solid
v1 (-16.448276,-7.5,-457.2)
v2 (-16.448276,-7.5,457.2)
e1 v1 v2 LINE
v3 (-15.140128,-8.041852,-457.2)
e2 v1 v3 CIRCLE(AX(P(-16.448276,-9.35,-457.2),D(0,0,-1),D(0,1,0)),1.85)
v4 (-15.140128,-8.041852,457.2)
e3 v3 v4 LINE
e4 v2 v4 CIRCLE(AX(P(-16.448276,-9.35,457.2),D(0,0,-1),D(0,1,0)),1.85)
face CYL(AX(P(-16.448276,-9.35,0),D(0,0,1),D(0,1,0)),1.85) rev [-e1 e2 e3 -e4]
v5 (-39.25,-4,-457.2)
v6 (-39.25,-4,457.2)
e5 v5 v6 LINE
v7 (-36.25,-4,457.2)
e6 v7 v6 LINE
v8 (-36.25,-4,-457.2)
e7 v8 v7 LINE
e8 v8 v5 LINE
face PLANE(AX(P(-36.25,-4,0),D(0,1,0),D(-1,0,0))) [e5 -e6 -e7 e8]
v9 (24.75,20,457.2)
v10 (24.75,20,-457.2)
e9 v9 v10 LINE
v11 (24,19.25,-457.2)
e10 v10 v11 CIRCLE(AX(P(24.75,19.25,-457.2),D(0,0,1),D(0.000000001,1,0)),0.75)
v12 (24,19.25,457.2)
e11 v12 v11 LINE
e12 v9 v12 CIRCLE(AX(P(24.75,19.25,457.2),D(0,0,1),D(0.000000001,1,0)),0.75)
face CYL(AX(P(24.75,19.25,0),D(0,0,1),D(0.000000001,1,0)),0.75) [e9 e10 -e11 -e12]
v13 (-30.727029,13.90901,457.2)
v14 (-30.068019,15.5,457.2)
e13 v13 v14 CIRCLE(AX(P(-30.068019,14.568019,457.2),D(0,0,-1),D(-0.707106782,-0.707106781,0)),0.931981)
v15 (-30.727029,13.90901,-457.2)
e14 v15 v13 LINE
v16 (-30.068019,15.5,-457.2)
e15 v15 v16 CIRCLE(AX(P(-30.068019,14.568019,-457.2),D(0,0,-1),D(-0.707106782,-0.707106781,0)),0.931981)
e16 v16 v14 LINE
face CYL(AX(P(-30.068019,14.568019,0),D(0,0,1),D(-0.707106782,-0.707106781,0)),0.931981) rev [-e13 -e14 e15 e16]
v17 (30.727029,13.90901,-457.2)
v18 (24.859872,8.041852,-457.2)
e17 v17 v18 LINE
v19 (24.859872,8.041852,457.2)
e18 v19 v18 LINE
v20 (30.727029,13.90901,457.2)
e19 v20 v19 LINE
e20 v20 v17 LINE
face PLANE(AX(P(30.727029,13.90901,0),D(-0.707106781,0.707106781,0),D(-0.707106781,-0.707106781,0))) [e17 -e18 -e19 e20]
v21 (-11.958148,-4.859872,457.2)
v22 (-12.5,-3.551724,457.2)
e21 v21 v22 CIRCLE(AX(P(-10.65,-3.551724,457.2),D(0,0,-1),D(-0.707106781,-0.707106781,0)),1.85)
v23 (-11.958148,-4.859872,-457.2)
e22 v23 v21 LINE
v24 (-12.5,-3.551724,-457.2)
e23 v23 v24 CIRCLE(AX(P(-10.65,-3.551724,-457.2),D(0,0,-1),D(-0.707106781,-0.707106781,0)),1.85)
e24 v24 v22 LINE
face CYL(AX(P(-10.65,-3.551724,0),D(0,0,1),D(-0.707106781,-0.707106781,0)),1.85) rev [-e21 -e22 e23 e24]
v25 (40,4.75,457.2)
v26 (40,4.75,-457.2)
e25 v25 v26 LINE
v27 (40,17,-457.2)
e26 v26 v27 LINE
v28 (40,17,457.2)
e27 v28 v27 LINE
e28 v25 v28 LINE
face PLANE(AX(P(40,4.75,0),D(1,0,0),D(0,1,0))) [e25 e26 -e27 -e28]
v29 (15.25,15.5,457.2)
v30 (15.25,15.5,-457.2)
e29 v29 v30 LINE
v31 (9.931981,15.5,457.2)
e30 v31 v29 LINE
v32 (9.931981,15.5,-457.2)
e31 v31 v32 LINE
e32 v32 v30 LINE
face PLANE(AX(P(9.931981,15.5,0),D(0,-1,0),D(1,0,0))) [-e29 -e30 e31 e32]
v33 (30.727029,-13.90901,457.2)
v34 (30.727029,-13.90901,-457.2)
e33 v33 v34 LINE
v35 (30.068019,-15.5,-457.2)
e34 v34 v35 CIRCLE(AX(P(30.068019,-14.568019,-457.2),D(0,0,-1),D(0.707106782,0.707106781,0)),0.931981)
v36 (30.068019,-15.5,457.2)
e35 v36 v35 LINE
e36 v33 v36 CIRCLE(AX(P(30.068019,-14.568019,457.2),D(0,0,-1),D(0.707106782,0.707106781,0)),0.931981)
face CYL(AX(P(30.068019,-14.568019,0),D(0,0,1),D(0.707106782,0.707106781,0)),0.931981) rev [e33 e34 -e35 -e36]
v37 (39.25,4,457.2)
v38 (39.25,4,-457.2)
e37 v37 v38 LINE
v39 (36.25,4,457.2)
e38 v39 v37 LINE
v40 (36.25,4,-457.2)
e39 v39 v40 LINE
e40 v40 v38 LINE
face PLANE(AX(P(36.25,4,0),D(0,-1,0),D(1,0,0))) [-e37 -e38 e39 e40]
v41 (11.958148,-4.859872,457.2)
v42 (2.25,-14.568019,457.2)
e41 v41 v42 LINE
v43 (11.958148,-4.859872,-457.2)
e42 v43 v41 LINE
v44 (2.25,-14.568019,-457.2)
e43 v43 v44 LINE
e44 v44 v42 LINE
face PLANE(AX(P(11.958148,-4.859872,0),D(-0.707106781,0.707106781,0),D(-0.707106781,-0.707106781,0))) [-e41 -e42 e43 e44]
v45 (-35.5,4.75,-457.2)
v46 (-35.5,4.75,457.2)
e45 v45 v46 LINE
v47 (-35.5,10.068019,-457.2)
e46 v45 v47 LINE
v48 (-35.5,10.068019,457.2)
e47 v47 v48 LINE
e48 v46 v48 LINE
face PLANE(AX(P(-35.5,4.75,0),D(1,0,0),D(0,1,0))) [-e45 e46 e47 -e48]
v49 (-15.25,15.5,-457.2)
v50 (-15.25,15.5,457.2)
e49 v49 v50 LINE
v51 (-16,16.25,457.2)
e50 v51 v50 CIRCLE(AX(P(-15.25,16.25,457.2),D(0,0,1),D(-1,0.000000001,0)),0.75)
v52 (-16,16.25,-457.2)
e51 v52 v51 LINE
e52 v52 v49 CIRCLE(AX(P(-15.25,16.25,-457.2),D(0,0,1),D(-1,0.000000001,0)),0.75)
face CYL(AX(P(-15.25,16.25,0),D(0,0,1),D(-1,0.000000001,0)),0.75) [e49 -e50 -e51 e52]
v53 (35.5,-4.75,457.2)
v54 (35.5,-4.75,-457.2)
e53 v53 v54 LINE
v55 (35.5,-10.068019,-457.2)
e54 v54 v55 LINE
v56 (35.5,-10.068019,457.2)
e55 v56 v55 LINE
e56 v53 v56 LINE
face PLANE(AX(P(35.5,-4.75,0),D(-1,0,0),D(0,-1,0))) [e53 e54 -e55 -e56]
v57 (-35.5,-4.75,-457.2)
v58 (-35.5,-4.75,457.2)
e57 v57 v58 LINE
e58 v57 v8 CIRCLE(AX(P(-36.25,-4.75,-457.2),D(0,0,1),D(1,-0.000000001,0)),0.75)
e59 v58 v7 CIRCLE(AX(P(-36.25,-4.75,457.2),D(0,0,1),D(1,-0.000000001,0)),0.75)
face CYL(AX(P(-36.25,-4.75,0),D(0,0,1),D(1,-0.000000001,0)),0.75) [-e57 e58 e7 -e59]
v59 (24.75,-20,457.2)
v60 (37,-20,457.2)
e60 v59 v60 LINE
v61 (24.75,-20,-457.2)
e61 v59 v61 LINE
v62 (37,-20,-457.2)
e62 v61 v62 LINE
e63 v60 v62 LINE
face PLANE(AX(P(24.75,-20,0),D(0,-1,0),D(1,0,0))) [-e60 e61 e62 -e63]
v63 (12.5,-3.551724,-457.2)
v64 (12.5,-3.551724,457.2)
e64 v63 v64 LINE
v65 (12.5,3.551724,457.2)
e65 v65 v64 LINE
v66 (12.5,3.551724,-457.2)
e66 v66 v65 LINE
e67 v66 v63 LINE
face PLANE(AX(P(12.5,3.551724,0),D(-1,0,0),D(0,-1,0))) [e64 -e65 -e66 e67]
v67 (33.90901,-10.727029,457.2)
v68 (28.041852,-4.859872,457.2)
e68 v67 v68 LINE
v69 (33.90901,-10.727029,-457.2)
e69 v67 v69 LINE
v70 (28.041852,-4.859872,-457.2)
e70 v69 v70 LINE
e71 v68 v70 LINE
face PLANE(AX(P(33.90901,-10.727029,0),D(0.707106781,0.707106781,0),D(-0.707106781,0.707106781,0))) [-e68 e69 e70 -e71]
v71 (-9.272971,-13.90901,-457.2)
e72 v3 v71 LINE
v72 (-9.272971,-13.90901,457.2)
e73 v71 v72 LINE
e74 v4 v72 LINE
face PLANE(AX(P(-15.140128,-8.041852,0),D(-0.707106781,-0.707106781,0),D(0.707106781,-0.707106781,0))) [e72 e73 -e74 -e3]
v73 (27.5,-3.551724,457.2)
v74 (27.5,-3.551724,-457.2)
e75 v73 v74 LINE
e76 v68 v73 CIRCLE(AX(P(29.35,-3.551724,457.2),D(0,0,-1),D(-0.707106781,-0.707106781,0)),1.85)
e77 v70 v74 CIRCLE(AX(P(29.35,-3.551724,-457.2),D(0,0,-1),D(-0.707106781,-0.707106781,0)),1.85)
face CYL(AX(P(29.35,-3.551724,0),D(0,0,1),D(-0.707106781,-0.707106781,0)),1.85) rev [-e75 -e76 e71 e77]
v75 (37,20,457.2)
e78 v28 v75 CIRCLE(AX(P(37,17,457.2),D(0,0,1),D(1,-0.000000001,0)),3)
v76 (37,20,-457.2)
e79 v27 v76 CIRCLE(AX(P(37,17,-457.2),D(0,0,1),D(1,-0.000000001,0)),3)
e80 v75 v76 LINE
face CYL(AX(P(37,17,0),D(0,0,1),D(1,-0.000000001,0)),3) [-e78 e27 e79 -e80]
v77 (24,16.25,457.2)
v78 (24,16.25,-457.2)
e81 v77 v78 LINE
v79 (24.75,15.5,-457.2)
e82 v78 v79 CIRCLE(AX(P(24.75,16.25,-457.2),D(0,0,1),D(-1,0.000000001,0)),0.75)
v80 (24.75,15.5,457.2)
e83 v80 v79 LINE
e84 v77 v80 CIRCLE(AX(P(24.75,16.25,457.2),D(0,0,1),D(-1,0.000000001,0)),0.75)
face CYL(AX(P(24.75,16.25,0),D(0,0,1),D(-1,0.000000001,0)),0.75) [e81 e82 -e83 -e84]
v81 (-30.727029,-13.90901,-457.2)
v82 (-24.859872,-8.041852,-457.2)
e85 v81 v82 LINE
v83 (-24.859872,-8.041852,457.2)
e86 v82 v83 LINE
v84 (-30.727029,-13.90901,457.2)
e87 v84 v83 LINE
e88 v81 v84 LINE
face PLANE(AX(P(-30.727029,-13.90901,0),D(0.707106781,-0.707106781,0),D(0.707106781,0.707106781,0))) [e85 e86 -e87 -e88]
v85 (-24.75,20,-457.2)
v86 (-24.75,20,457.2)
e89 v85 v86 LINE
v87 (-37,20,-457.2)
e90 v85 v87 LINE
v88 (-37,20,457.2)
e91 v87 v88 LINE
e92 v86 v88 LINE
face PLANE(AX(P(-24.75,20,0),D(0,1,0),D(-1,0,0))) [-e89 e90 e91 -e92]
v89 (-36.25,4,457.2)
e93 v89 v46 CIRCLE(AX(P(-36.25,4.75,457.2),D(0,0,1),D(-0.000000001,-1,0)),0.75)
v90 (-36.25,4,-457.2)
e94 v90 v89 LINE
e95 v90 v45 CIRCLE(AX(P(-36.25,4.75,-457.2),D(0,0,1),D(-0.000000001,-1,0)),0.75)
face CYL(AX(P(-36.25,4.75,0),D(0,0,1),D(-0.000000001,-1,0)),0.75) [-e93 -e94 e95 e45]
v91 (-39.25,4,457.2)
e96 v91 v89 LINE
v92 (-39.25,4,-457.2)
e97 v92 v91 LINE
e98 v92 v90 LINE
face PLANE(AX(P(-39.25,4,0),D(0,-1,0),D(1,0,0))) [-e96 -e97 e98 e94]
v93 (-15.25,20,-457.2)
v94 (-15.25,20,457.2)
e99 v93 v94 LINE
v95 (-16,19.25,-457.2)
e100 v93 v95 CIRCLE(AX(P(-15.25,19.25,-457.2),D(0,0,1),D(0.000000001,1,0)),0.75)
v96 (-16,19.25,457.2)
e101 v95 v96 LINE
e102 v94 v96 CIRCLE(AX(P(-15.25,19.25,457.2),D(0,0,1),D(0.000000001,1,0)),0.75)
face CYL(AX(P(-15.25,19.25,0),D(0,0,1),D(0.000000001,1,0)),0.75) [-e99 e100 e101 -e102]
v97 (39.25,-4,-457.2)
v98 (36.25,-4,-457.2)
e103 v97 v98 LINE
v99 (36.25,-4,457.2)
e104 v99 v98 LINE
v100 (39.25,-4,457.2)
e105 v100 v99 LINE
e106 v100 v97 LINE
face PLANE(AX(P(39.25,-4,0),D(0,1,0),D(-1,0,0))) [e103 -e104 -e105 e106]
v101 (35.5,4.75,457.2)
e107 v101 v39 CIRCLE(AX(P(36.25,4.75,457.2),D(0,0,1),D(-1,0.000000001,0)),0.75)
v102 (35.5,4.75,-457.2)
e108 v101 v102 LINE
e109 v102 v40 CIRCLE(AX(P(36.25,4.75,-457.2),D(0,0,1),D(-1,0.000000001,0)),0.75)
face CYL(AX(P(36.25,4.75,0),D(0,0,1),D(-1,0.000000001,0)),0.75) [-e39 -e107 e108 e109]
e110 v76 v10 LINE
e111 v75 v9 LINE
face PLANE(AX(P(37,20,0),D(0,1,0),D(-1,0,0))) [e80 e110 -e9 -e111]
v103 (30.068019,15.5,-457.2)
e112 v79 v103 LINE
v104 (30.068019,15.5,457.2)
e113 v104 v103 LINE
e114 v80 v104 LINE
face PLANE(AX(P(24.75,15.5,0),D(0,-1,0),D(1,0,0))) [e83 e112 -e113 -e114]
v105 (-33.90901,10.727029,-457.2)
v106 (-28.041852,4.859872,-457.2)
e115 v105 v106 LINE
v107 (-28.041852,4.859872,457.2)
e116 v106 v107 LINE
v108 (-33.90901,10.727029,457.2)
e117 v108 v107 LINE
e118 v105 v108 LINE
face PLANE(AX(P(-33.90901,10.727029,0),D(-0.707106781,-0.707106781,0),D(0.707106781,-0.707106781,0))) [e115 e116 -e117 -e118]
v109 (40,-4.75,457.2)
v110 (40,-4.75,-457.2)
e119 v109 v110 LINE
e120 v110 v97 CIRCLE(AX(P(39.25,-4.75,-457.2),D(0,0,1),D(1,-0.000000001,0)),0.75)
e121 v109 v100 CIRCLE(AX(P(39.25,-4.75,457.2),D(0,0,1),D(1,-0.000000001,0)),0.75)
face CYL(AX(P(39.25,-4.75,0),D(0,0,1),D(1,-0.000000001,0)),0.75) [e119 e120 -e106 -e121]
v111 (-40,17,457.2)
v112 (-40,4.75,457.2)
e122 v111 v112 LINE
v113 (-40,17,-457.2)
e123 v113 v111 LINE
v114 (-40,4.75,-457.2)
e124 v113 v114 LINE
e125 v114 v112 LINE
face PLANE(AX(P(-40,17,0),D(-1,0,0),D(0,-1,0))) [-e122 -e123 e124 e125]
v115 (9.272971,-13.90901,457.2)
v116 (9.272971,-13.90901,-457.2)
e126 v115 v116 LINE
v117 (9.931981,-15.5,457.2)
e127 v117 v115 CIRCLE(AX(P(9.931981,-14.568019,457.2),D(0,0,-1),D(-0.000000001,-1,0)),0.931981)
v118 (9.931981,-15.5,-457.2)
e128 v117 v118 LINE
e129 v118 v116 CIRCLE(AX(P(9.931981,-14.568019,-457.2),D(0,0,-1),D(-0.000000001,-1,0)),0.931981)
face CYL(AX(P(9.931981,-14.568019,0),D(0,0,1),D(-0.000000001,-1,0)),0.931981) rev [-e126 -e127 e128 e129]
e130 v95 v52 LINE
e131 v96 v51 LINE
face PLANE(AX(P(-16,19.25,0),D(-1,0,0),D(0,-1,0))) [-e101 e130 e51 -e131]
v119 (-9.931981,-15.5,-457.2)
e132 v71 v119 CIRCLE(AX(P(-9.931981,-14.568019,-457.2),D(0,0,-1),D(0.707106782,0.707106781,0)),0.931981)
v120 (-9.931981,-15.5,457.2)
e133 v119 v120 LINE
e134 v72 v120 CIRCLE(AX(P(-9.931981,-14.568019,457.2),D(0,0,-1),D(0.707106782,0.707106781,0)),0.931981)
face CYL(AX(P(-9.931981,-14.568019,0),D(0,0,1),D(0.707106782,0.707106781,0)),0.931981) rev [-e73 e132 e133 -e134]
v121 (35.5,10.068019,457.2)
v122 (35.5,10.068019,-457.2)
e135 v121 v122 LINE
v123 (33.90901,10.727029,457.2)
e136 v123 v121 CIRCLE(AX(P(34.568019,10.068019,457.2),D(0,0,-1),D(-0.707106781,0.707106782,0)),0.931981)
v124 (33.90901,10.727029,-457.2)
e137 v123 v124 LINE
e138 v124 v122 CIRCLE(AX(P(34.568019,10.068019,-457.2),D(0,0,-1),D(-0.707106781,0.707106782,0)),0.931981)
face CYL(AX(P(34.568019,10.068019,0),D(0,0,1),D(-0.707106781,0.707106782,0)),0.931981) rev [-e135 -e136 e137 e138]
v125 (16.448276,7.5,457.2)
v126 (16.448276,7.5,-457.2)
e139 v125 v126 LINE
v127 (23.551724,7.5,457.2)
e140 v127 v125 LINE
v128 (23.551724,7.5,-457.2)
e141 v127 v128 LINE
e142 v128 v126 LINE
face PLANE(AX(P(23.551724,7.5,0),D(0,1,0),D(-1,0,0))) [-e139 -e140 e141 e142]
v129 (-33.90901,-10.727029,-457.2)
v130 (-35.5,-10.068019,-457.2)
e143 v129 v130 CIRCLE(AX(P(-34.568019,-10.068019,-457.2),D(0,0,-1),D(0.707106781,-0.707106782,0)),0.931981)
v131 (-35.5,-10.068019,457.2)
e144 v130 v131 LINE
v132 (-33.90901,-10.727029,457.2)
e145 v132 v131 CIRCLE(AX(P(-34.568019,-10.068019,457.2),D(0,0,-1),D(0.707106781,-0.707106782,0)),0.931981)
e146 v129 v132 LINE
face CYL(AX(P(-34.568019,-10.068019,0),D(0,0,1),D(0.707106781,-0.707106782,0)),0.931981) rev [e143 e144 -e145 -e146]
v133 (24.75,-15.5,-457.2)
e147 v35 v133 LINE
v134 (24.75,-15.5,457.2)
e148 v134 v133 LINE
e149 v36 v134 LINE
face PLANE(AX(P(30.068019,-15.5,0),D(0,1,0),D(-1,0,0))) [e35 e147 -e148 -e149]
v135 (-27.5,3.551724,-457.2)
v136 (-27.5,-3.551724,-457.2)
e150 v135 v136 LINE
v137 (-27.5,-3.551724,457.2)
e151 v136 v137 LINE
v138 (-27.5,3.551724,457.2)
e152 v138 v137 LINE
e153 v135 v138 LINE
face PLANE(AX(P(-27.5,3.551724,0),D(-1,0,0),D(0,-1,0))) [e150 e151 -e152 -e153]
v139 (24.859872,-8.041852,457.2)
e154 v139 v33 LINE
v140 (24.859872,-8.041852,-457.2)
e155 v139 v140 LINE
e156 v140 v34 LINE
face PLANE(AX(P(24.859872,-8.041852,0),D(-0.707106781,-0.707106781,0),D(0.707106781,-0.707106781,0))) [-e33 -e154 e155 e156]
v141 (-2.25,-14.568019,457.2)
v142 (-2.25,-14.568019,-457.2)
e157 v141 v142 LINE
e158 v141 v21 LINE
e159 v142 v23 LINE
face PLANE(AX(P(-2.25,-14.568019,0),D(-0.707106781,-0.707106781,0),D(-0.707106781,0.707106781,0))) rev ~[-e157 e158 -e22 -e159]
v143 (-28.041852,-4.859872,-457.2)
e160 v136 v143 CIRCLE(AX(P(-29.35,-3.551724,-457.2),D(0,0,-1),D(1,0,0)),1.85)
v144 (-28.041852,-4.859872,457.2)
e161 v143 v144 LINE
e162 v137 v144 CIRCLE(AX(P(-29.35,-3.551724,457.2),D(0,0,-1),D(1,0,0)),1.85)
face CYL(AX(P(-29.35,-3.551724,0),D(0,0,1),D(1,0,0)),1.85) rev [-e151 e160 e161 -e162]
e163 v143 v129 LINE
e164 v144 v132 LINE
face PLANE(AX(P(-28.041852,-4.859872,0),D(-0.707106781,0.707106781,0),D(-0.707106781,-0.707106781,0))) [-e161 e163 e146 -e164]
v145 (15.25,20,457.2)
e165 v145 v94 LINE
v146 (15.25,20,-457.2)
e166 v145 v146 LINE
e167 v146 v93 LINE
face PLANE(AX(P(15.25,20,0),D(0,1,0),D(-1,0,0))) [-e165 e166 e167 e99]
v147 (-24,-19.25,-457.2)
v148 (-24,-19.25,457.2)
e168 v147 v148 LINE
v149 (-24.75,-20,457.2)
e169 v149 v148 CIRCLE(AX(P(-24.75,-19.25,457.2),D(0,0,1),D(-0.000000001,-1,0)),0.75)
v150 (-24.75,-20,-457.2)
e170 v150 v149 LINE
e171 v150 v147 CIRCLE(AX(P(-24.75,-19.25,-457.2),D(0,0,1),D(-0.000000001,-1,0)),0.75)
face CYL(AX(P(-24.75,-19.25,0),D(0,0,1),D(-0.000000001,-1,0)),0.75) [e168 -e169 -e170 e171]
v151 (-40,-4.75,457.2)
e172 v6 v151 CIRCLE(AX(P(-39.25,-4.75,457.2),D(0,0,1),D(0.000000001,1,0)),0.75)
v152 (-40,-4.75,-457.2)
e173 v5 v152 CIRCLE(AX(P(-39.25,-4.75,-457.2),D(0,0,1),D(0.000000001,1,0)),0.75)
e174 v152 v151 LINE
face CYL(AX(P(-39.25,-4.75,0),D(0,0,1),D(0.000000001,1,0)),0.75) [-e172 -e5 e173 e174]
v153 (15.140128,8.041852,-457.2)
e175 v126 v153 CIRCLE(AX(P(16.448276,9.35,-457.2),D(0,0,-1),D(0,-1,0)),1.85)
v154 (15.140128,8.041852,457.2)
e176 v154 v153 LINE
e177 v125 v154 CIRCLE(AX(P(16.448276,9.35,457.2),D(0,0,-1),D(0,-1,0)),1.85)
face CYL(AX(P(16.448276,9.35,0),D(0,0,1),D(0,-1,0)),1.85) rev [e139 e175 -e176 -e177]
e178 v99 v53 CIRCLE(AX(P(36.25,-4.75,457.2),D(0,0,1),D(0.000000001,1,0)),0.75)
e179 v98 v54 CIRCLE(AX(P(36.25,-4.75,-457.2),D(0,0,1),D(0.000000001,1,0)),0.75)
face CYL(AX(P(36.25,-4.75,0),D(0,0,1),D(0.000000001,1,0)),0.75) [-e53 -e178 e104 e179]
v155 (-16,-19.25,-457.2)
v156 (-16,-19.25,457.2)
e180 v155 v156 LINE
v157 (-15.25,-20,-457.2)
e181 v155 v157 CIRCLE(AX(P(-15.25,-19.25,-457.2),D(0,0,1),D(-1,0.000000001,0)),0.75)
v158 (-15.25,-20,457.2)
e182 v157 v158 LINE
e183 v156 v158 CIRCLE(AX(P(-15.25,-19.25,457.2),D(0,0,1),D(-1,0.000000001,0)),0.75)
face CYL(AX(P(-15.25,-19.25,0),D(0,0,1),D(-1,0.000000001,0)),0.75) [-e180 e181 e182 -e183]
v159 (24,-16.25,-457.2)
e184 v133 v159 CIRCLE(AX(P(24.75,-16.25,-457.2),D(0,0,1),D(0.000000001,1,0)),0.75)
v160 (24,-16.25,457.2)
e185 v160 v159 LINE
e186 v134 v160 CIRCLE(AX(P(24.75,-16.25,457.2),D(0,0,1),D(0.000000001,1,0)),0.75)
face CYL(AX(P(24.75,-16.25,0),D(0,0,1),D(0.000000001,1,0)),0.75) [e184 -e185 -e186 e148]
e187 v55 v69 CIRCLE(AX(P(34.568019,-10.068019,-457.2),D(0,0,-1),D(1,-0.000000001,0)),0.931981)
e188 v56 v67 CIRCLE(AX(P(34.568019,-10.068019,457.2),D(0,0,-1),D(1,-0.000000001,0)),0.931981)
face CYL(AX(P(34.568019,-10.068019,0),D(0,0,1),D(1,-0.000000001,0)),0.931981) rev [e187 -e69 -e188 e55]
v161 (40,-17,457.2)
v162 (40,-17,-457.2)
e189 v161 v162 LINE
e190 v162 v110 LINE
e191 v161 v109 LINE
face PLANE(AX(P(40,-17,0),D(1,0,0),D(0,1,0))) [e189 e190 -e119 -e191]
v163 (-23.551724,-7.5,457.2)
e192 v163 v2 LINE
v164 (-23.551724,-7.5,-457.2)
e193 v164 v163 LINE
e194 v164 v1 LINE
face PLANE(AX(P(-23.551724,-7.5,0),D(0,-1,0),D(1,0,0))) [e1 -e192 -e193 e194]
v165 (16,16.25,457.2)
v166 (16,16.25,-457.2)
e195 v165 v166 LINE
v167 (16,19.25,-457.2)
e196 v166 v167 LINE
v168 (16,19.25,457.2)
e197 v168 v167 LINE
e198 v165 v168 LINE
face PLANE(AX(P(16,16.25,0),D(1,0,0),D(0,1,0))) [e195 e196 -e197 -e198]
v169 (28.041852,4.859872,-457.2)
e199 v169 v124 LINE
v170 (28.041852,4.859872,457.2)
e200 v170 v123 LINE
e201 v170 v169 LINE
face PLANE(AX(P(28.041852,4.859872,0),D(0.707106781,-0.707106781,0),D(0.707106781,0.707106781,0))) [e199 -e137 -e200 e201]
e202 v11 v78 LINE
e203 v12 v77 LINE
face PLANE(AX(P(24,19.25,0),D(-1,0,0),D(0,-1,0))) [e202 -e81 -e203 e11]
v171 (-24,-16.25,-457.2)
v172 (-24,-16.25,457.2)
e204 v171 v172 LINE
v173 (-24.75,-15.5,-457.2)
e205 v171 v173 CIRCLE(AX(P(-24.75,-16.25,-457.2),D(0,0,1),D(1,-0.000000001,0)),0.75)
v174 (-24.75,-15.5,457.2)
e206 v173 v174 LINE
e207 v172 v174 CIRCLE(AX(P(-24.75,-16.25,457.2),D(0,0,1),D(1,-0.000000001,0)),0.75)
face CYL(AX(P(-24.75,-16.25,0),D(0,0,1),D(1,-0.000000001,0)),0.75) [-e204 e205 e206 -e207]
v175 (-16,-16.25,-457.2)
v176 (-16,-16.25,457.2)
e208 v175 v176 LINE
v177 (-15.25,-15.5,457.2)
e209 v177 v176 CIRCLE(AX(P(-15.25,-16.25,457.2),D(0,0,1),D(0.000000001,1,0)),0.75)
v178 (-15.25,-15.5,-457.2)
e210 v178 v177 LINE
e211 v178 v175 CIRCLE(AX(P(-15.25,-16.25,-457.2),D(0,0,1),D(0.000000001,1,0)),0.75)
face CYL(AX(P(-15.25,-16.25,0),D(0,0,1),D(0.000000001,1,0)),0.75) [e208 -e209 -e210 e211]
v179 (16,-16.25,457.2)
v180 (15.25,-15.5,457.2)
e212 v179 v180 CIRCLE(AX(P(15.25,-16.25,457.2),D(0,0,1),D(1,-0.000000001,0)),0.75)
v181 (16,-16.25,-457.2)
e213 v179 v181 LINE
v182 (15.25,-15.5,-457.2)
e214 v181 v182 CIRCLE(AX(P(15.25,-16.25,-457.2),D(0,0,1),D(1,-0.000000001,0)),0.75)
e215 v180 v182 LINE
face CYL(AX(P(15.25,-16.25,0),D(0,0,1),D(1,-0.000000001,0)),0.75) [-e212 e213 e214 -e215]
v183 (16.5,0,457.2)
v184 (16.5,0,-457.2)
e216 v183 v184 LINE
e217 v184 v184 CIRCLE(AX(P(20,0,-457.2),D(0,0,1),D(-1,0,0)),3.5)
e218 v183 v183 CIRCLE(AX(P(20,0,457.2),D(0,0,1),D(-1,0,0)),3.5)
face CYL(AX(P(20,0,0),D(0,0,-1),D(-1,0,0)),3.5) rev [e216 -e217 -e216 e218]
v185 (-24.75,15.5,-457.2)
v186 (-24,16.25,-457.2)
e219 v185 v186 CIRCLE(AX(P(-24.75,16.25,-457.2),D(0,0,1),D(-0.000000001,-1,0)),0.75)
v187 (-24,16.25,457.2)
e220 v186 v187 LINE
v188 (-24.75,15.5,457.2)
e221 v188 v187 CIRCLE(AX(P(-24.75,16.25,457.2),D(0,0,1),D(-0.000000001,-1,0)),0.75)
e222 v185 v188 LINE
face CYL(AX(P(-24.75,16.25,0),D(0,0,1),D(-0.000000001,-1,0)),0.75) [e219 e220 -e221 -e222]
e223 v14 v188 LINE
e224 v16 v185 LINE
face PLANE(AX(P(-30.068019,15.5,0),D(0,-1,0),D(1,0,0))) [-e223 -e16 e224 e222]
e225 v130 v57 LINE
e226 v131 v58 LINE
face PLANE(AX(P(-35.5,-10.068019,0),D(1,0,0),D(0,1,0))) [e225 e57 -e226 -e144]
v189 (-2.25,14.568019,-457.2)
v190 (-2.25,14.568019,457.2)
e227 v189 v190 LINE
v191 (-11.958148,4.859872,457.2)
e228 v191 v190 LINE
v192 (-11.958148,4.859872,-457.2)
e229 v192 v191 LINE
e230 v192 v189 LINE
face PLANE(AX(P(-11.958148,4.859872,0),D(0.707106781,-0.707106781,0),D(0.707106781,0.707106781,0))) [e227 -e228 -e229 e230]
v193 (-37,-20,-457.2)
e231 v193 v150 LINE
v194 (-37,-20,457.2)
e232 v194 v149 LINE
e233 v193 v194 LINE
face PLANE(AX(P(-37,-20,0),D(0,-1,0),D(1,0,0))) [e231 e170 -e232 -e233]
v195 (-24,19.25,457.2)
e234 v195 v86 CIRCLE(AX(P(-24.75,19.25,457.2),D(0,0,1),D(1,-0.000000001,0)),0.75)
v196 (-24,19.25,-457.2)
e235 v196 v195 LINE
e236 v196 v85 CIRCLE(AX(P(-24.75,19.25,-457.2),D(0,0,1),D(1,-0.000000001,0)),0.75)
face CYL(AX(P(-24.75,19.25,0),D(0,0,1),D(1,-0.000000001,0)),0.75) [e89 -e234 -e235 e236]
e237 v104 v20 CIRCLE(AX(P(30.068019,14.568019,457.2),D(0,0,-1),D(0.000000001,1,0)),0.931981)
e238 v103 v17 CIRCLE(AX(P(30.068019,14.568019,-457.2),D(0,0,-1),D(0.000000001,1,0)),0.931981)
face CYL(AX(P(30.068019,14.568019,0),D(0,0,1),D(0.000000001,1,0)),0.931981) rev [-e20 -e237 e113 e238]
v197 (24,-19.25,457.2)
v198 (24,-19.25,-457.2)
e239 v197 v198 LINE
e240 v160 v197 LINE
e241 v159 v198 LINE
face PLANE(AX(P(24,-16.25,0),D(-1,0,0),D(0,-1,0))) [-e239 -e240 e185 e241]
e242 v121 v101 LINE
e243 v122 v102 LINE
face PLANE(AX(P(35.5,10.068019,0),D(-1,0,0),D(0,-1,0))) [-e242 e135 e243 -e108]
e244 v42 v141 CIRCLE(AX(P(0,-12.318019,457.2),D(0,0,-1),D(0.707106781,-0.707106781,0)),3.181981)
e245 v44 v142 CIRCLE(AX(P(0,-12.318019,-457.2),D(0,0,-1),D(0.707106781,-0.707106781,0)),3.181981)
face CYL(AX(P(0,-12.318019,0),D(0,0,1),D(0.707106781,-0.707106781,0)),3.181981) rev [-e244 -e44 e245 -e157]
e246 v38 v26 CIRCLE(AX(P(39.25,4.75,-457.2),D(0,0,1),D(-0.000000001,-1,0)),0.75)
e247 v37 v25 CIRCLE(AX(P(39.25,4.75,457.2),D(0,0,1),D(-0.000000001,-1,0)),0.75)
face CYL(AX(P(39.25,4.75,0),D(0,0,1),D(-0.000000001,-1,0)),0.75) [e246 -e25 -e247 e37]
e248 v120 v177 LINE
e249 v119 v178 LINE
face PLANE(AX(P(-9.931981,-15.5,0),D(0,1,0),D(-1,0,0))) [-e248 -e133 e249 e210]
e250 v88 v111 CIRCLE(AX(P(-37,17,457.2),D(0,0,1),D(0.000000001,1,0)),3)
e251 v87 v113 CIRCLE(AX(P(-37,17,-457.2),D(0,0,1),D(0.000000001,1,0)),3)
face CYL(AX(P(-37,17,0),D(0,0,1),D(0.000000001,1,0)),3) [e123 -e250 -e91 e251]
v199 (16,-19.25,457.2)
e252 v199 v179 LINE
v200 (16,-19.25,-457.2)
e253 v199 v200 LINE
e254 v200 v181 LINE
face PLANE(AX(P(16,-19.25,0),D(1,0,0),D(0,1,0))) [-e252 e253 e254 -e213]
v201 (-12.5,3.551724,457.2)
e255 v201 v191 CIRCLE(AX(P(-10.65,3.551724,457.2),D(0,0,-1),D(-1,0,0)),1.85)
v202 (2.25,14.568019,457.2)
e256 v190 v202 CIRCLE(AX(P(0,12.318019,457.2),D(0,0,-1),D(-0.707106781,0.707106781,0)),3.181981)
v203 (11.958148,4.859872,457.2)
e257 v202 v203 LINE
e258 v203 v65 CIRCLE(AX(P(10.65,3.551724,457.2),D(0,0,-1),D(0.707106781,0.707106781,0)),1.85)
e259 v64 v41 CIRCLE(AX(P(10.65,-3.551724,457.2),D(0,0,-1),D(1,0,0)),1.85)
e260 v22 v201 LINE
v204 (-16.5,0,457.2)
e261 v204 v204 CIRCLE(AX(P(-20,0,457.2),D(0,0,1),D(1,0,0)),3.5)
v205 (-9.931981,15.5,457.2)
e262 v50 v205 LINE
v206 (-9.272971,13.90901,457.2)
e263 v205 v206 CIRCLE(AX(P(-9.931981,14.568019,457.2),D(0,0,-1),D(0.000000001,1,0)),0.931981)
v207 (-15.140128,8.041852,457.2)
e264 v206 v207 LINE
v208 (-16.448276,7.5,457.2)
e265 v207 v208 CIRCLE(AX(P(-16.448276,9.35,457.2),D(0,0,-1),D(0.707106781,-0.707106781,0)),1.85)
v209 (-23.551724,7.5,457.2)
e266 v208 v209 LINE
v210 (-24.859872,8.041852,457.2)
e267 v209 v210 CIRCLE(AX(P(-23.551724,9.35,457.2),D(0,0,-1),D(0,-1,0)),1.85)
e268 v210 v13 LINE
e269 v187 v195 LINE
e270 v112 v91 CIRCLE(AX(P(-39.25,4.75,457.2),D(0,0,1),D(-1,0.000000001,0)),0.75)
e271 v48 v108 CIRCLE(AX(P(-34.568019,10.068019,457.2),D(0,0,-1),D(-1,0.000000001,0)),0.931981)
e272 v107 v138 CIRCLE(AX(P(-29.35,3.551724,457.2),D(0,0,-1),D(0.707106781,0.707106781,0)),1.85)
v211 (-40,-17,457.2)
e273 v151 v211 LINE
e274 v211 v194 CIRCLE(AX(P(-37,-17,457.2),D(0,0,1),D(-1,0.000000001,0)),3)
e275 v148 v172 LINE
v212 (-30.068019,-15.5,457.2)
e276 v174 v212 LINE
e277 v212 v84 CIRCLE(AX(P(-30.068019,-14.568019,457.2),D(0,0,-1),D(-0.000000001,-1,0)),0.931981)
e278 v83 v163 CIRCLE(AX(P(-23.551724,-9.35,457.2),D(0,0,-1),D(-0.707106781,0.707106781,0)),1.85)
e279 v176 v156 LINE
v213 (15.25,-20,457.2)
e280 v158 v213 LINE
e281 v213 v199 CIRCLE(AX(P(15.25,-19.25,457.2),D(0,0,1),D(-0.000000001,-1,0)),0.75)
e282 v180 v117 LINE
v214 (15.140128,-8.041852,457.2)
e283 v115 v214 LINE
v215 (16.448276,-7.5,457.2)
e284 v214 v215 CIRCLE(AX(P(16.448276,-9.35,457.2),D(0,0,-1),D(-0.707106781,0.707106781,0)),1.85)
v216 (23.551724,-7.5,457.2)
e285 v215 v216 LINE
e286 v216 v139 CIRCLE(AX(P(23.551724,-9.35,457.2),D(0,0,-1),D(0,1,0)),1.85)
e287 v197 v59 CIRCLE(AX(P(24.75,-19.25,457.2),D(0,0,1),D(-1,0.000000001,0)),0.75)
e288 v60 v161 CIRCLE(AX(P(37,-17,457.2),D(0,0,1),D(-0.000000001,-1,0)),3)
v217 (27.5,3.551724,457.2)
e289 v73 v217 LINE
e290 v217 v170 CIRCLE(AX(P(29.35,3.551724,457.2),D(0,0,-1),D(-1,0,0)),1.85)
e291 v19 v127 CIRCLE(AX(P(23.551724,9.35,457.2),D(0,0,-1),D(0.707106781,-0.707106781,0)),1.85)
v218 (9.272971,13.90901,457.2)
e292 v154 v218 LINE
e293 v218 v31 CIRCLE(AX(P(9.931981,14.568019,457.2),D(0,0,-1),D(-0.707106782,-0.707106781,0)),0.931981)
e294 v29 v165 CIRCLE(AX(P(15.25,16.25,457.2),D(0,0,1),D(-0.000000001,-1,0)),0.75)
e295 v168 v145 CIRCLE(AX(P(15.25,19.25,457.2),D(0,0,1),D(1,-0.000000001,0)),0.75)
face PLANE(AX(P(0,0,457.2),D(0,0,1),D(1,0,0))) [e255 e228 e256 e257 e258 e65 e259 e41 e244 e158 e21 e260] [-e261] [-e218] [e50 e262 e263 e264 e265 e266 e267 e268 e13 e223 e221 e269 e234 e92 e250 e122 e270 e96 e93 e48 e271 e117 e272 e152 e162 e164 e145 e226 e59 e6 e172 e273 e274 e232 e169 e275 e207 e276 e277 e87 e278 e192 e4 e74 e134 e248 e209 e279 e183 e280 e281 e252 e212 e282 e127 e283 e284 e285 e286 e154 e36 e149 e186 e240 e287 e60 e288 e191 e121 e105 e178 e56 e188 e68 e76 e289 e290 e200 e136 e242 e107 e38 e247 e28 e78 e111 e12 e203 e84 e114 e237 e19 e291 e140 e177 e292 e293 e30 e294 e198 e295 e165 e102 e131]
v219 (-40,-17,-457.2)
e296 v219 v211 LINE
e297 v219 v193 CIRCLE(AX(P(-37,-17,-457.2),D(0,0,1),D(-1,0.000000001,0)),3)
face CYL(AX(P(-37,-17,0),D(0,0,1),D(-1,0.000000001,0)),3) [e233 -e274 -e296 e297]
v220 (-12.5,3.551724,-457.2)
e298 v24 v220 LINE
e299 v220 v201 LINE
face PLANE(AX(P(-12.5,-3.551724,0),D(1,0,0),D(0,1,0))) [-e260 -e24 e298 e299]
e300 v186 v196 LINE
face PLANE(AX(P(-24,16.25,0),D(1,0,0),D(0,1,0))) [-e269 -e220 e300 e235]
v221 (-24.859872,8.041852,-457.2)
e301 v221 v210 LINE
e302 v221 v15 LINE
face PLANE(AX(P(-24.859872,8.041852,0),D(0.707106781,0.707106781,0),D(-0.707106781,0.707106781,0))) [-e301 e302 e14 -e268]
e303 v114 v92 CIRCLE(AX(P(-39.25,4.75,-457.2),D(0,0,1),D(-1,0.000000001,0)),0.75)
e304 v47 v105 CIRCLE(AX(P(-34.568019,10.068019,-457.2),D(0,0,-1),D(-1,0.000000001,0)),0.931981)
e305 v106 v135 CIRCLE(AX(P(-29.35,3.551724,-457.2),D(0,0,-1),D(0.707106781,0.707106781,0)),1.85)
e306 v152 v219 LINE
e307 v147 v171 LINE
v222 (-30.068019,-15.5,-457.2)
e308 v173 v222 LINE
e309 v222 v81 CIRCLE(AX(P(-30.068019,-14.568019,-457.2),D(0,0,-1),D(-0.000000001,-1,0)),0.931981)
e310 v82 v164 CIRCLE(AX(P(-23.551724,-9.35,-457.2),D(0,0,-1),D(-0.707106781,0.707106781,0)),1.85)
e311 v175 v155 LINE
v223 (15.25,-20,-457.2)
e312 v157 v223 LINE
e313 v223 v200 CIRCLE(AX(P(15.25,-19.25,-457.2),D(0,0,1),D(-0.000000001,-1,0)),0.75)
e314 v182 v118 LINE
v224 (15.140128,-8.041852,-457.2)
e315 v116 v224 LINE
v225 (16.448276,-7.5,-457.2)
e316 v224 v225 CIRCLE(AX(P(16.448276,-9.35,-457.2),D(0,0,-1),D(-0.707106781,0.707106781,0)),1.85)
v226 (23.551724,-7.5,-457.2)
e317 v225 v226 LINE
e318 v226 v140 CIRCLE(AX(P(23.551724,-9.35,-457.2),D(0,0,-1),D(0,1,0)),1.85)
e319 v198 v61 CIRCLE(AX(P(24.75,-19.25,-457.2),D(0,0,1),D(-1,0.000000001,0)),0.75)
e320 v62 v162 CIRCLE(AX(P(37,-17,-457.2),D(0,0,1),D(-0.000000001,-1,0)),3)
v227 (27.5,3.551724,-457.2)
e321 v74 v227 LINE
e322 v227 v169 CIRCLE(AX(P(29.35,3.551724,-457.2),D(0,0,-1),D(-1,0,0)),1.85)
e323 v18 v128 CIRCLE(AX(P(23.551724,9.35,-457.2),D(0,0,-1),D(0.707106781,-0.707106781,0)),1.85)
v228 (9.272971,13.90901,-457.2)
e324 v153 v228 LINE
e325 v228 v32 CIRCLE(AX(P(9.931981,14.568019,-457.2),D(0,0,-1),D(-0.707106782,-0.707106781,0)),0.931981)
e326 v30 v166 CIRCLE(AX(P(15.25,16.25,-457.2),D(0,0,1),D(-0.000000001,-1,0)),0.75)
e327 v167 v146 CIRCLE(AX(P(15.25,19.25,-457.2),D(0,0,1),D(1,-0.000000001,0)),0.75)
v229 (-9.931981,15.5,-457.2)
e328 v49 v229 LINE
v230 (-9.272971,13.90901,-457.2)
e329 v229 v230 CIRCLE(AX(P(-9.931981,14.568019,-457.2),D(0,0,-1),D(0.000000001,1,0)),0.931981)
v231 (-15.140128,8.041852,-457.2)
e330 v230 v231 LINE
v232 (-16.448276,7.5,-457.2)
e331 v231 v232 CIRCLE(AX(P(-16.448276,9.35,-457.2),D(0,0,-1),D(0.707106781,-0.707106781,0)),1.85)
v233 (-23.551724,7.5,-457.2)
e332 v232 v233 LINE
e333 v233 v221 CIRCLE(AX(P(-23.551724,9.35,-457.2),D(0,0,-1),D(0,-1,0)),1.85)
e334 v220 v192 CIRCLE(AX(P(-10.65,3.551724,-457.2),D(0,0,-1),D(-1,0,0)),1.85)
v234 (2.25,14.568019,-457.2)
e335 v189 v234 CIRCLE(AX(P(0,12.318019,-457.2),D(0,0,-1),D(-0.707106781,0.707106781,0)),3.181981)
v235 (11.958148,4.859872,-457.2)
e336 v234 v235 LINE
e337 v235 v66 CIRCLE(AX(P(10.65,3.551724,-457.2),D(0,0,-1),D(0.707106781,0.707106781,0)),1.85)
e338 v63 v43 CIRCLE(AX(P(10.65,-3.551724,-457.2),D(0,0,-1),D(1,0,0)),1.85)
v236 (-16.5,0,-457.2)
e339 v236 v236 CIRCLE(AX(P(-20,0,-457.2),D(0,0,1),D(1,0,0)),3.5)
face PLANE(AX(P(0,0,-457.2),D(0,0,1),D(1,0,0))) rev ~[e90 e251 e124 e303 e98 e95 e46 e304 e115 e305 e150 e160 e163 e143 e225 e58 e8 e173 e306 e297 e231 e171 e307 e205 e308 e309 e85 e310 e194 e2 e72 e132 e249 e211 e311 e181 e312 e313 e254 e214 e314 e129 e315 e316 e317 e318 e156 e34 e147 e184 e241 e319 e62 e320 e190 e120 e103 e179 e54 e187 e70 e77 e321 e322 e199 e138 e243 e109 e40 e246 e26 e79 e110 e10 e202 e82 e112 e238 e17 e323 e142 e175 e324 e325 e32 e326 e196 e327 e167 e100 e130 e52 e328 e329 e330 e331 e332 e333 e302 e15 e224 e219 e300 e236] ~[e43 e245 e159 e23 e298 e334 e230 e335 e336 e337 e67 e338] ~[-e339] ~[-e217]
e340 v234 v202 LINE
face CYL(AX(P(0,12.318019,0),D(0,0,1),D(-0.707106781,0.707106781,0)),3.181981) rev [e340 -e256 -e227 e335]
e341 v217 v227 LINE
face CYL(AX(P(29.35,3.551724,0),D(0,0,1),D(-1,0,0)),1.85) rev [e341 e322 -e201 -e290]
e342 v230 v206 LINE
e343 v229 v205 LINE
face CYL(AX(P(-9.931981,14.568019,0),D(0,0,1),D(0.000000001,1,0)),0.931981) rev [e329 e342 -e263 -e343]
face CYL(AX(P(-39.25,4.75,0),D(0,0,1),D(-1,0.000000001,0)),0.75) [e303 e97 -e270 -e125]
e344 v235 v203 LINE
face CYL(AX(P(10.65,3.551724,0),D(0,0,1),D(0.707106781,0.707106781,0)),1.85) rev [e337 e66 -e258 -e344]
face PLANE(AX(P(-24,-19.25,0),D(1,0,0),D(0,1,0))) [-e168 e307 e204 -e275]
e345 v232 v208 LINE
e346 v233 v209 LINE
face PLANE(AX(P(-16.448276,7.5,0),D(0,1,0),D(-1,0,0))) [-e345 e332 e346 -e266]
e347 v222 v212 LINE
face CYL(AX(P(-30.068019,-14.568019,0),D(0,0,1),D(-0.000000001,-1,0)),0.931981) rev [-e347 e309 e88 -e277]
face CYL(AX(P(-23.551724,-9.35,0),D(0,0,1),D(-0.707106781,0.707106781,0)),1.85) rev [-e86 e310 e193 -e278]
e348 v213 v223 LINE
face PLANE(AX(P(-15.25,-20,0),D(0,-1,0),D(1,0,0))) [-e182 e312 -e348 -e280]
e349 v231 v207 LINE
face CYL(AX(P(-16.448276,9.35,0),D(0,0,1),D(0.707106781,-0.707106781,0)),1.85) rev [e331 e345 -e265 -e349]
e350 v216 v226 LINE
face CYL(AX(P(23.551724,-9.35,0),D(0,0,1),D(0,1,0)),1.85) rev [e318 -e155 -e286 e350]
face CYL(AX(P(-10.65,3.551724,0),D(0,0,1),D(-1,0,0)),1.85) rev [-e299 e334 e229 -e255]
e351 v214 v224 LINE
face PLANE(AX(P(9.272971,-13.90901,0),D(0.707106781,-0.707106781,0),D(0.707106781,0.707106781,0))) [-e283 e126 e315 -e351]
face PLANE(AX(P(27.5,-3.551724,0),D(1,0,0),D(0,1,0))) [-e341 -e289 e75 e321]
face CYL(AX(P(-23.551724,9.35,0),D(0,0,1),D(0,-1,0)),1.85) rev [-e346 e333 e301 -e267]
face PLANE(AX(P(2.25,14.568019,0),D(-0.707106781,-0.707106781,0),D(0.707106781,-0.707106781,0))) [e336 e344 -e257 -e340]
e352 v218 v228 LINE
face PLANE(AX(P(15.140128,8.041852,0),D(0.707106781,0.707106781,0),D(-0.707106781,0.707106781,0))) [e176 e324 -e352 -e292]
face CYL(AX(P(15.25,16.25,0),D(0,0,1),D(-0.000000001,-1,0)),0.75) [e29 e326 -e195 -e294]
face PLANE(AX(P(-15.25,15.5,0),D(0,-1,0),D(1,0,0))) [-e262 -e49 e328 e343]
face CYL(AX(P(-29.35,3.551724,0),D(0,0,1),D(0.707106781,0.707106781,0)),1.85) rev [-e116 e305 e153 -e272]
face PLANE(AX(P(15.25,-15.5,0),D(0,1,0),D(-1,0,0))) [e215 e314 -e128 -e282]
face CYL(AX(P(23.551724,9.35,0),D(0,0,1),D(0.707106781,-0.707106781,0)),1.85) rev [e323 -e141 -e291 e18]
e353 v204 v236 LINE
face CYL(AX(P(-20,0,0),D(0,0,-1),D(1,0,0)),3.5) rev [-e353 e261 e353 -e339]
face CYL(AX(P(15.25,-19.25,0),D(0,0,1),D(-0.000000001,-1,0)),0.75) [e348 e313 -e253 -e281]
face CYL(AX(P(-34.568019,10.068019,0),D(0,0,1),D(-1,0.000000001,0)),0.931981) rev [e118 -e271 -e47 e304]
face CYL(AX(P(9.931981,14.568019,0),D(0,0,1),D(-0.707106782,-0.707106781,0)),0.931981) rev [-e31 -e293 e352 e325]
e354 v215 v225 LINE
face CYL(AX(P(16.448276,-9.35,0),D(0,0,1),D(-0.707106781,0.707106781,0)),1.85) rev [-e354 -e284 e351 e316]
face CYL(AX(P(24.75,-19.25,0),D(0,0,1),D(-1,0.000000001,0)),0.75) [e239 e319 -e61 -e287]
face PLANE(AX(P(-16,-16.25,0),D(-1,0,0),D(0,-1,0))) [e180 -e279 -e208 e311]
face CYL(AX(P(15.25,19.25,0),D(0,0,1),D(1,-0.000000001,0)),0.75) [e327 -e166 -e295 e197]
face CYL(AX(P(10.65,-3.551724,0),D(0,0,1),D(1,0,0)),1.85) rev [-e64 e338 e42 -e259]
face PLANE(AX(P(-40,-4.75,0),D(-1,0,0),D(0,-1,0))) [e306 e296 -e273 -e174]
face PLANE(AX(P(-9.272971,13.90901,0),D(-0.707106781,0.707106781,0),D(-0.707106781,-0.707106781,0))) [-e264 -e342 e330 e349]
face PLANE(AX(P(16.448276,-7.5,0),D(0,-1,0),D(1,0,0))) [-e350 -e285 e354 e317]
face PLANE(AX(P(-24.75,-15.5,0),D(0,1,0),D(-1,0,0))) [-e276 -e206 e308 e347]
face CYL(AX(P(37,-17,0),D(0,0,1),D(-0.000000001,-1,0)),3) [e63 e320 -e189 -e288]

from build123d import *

# Parameters (mm, degrees)
SKETCH3_R           = 3.5
BOSS_EXTRUDE1_DEPTH = 457.2


with BuildPart() as part:
    # Sketch3 → Boss-Extrude1 (new, symmetric)
    with BuildSketch(Plane.XY):
        with BuildLine():
            Line((15.25, 20), (-15.25, 20))
            ThreePointArc((-15.25, 20), (-15.780330086, 19.780330086), (-16, 19.25))
            Line((-16, 19.25), (-16, 16.25))
            ThreePointArc((-16, 16.25), (-15.780330086, 15.719669914), (-15.25, 15.5))
            Line((-15.25, 15.5), (-9.931980515, 15.5))
            ThreePointArc((-9.931980515, 15.5), (-9.070942793, 14.924672987), (-9.272970773, 13.909009742))
            Line((-9.272970773, 13.909009742), (-15.140128061, 8.041852455))
            ThreePointArc((-15.140128061, 8.041852455), (-15.740311256, 7.640822865), (-16.448275606, 7.5))
            Line((-16.448275606, 7.5), (-23.551724394, 7.5))
            ThreePointArc((-23.551724394, 7.5), (-24.259688744, 7.640822865), (-24.859871939, 8.041852455))
            Line((-24.859871939, 8.041852455), (-30.727029227, 13.909009742))
            ThreePointArc((-30.727029227, 13.909009742), (-30.929057207, 14.924672987), (-30.068019485, 15.5))
            Line((-30.068019485, 15.5), (-24.75, 15.5))
            ThreePointArc((-24.75, 15.5), (-24.219669914, 15.719669914), (-24, 16.25))
            Line((-24, 16.25), (-24, 19.25))
            ThreePointArc((-24, 19.25), (-24.219669914, 19.780330086), (-24.75, 20))
            Line((-24.75, 20), (-37, 20))
            ThreePointArc((-37, 20), (-39.121320344, 19.121320344), (-40, 17))
            Line((-40, 17), (-40, 4.75))
            ThreePointArc((-40, 4.75), (-39.780330086, 4.219669914), (-39.25, 4))
            Line((-39.25, 4), (-36.25, 4))
            ThreePointArc((-36.25, 4), (-35.719669914, 4.219669914), (-35.5, 4.75))
            Line((-35.5, 4.75), (-35.5, 10.068019485))
            ThreePointArc((-35.5, 10.068019485), (-34.924672987, 10.929057207), (-33.909009742, 10.727029227))
            Line((-33.909009742, 10.727029227), (-28.041852455, 4.859871939))
            ThreePointArc((-28.041852455, 4.859871939), (-27.640822865, 4.259688744), (-27.5, 3.551724394))
            Line((-27.5, 3.551724394), (-27.5, -3.551724394))
            ThreePointArc((-27.5, -3.551724394), (-27.640822865, -4.259688744), (-28.041852455, -4.859871939))
            Line((-28.041852455, -4.859871939), (-33.909009742, -10.727029227))
            ThreePointArc((-33.909009742, -10.727029227), (-34.924672987, -10.929057207), (-35.5, -10.068019485))
            Line((-35.5, -10.068019485), (-35.5, -4.75))
            ThreePointArc((-35.5, -4.75), (-35.719669914, -4.219669914), (-36.25, -4))
            Line((-36.25, -4), (-39.25, -4))
            ThreePointArc((-39.25, -4), (-39.780330086, -4.219669914), (-40, -4.75))
            Line((-40, -4.75), (-40, -17))
            ThreePointArc((-40, -17), (-39.121320344, -19.121320344), (-37, -20))
            Line((-37, -20), (-24.75, -20))
            ThreePointArc((-24.75, -20), (-24.219669914, -19.780330086), (-24, -19.25))
            Line((-24, -19.25), (-24, -16.25))
            ThreePointArc((-24, -16.25), (-24.219669914, -15.719669914), (-24.75, -15.5))
            Line((-24.75, -15.5), (-30.068019485, -15.5))
            ThreePointArc((-30.068019485, -15.5), (-30.929057207, -14.924672987), (-30.727029227, -13.909009742))
            Line((-30.727029227, -13.909009742), (-24.859871939, -8.041852455))
            ThreePointArc((-24.859871939, -8.041852455), (-24.259688744, -7.640822865), (-23.551724394, -7.5))
            Line((-23.551724394, -7.5), (-16.448275606, -7.5))
            ThreePointArc((-16.448275606, -7.5), (-15.740311256, -7.640822865), (-15.140128061, -8.041852455))
            Line((-15.140128061, -8.041852455), (-9.272970773, -13.909009742))
            ThreePointArc((-9.272970773, -13.909009742), (-9.070942793, -14.924672987), (-9.931980515, -15.5))
            Line((-9.931980515, -15.5), (-15.25, -15.5))
            ThreePointArc((-15.25, -15.5), (-15.780330086, -15.719669914), (-16, -16.25))
            Line((-16, -16.25), (-16, -19.25))
            ThreePointArc((-16, -19.25), (-15.780330086, -19.780330086), (-15.25, -20))
            Line((-15.25, -20), (15.25, -20))
            ThreePointArc((15.25, -20), (15.780330086, -19.780330086), (16, -19.25))
            Line((16, -19.25), (16, -16.25))
            ThreePointArc((16, -16.25), (15.780330086, -15.719669914), (15.25, -15.5))
            Line((15.25, -15.5), (9.931980515, -15.5))
            ThreePointArc((9.931980515, -15.5), (9.070942793, -14.924672987), (9.272970773, -13.909009742))
            Line((9.272970773, -13.909009742), (15.140128061, -8.041852455))
            ThreePointArc((15.140128061, -8.041852455), (15.740311256, -7.640822865), (16.448275606, -7.5))
            Line((16.448275606, -7.5), (23.551724394, -7.5))
            ThreePointArc((23.551724394, -7.5), (24.259688744, -7.640822865), (24.859871939, -8.041852455))
            Line((24.859871939, -8.041852455), (30.727029227, -13.909009742))
            ThreePointArc((30.727029227, -13.909009742), (30.929057207, -14.924672987), (30.068019485, -15.5))
            Line((30.068019485, -15.5), (24.75, -15.5))
            ThreePointArc((24.75, -15.5), (24.219669914, -15.719669914), (24, -16.25))
            Line((24, -16.25), (24, -19.25))
            ThreePointArc((24, -19.25), (24.219669914, -19.780330086), (24.75, -20))
            Line((24.75, -20), (37, -20))
            ThreePointArc((37, -20), (39.121320344, -19.121320344), (40, -17))
            Line((40, -17), (40, -4.75))
            ThreePointArc((40, -4.75), (39.780330086, -4.219669914), (39.25, -4))
            Line((39.25, -4), (36.25, -4))
            ThreePointArc((36.25, -4), (35.719669914, -4.219669914), (35.5, -4.75))
            Line((35.5, -4.75), (35.5, -10.068019485))
            ThreePointArc((35.5, -10.068019485), (34.924672987, -10.929057207), (33.909009742, -10.727029227))
            Line((33.909009742, -10.727029227), (28.041852455, -4.859871939))
            ThreePointArc((28.041852455, -4.859871939), (27.640822865, -4.259688744), (27.5, -3.551724394))
            Line((27.5, -3.551724394), (27.5, 3.551724394))
            ThreePointArc((27.5, 3.551724394), (27.640822865, 4.259688744), (28.041852455, 4.859871939))
            Line((28.041852455, 4.859871939), (33.909009742, 10.727029227))
            ThreePointArc((33.909009742, 10.727029227), (34.924672987, 10.929057207), (35.5, 10.068019485))
            Line((35.5, 10.068019485), (35.5, 4.75))
            ThreePointArc((35.5, 4.75), (35.719669914, 4.219669914), (36.25, 4))
            Line((36.25, 4), (39.25, 4))
            ThreePointArc((39.25, 4), (39.780330086, 4.219669914), (40, 4.75))
            Line((40, 4.75), (40, 17))
            ThreePointArc((40, 17), (39.121320344, 19.121320344), (37, 20))
            Line((37, 20), (24.75, 20))
            ThreePointArc((24.75, 20), (24.219669914, 19.780330086), (24, 19.25))
            Line((24, 19.25), (24, 16.25))
            ThreePointArc((24, 16.25), (24.219669914, 15.719669914), (24.75, 15.5))
            Line((24.75, 15.5), (30.068019485, 15.5))
            ThreePointArc((30.068019485, 15.5), (30.929057207, 14.924672987), (30.727029227, 13.909009742))
            Line((30.727029227, 13.909009742), (24.859871939, 8.041852455))
            ThreePointArc((24.859871939, 8.041852455), (24.259688744, 7.640822865), (23.551724394, 7.5))
            Line((23.551724394, 7.5), (16.448275606, 7.5))
            ThreePointArc((16.448275606, 7.5), (15.740311256, 7.640822865), (15.140128061, 8.041852455))
            Line((15.140128061, 8.041852455), (9.272970773, 13.909009742))
            ThreePointArc((9.272970773, 13.909009742), (9.070942793, 14.924672987), (9.931980515, 15.5))
            Line((9.931980515, 15.5), (15.25, 15.5))
            ThreePointArc((15.25, 15.5), (15.780330086, 15.719669914), (16, 16.25))
            Line((16, 16.25), (16, 19.25))
            ThreePointArc((16, 19.25), (15.780330086, 19.780330086), (15.25, 20))
        make_face()
        with Locations((-20, 0)):
            Circle(SKETCH3_R, mode=Mode.SUBTRACT)
        with Locations(Location((20, 0, 0), (0, 0, 180))):
            Circle(SKETCH3_R, mode=Mode.SUBTRACT)
        with BuildLine():
            Line((-2.25, -14.568019485), (-11.958147545, -4.859871939))
            ThreePointArc((-11.958147545, -4.859871939), (-12.359177135, -4.259688744), (-12.5, -3.551724394))
            Line((-12.5, -3.551724394), (-12.5, 3.551724394))
            ThreePointArc((-12.5, 3.551724394), (-12.359177135, 4.259688744), (-11.958147545, 4.859871939))
            Line((-11.958147545, 4.859871939), (-2.25, 14.568019485))
            ThreePointArc((-2.25, 14.568019485), (0, 15.5), (2.25, 14.568019485))
            Line((2.25, 14.568019485), (11.958147545, 4.859871939))
            ThreePointArc((11.958147545, 4.859871939), (12.359177135, 4.259688744), (12.5, 3.551724394))
            Line((12.5, 3.551724394), (12.5, -3.551724394))
            ThreePointArc((12.5, -3.551724394), (12.359177135, -4.259688744), (11.958147545, -4.859871939))
            Line((11.958147545, -4.859871939), (2.25, -14.568019485))
            ThreePointArc((2.25, -14.568019485), (0, -15.5), (-2.25, -14.568019485))
        make_face(mode=Mode.SUBTRACT)
    extrude(amount=BOSS_EXTRUDE1_DEPTH, both=True)


solid = part.part
